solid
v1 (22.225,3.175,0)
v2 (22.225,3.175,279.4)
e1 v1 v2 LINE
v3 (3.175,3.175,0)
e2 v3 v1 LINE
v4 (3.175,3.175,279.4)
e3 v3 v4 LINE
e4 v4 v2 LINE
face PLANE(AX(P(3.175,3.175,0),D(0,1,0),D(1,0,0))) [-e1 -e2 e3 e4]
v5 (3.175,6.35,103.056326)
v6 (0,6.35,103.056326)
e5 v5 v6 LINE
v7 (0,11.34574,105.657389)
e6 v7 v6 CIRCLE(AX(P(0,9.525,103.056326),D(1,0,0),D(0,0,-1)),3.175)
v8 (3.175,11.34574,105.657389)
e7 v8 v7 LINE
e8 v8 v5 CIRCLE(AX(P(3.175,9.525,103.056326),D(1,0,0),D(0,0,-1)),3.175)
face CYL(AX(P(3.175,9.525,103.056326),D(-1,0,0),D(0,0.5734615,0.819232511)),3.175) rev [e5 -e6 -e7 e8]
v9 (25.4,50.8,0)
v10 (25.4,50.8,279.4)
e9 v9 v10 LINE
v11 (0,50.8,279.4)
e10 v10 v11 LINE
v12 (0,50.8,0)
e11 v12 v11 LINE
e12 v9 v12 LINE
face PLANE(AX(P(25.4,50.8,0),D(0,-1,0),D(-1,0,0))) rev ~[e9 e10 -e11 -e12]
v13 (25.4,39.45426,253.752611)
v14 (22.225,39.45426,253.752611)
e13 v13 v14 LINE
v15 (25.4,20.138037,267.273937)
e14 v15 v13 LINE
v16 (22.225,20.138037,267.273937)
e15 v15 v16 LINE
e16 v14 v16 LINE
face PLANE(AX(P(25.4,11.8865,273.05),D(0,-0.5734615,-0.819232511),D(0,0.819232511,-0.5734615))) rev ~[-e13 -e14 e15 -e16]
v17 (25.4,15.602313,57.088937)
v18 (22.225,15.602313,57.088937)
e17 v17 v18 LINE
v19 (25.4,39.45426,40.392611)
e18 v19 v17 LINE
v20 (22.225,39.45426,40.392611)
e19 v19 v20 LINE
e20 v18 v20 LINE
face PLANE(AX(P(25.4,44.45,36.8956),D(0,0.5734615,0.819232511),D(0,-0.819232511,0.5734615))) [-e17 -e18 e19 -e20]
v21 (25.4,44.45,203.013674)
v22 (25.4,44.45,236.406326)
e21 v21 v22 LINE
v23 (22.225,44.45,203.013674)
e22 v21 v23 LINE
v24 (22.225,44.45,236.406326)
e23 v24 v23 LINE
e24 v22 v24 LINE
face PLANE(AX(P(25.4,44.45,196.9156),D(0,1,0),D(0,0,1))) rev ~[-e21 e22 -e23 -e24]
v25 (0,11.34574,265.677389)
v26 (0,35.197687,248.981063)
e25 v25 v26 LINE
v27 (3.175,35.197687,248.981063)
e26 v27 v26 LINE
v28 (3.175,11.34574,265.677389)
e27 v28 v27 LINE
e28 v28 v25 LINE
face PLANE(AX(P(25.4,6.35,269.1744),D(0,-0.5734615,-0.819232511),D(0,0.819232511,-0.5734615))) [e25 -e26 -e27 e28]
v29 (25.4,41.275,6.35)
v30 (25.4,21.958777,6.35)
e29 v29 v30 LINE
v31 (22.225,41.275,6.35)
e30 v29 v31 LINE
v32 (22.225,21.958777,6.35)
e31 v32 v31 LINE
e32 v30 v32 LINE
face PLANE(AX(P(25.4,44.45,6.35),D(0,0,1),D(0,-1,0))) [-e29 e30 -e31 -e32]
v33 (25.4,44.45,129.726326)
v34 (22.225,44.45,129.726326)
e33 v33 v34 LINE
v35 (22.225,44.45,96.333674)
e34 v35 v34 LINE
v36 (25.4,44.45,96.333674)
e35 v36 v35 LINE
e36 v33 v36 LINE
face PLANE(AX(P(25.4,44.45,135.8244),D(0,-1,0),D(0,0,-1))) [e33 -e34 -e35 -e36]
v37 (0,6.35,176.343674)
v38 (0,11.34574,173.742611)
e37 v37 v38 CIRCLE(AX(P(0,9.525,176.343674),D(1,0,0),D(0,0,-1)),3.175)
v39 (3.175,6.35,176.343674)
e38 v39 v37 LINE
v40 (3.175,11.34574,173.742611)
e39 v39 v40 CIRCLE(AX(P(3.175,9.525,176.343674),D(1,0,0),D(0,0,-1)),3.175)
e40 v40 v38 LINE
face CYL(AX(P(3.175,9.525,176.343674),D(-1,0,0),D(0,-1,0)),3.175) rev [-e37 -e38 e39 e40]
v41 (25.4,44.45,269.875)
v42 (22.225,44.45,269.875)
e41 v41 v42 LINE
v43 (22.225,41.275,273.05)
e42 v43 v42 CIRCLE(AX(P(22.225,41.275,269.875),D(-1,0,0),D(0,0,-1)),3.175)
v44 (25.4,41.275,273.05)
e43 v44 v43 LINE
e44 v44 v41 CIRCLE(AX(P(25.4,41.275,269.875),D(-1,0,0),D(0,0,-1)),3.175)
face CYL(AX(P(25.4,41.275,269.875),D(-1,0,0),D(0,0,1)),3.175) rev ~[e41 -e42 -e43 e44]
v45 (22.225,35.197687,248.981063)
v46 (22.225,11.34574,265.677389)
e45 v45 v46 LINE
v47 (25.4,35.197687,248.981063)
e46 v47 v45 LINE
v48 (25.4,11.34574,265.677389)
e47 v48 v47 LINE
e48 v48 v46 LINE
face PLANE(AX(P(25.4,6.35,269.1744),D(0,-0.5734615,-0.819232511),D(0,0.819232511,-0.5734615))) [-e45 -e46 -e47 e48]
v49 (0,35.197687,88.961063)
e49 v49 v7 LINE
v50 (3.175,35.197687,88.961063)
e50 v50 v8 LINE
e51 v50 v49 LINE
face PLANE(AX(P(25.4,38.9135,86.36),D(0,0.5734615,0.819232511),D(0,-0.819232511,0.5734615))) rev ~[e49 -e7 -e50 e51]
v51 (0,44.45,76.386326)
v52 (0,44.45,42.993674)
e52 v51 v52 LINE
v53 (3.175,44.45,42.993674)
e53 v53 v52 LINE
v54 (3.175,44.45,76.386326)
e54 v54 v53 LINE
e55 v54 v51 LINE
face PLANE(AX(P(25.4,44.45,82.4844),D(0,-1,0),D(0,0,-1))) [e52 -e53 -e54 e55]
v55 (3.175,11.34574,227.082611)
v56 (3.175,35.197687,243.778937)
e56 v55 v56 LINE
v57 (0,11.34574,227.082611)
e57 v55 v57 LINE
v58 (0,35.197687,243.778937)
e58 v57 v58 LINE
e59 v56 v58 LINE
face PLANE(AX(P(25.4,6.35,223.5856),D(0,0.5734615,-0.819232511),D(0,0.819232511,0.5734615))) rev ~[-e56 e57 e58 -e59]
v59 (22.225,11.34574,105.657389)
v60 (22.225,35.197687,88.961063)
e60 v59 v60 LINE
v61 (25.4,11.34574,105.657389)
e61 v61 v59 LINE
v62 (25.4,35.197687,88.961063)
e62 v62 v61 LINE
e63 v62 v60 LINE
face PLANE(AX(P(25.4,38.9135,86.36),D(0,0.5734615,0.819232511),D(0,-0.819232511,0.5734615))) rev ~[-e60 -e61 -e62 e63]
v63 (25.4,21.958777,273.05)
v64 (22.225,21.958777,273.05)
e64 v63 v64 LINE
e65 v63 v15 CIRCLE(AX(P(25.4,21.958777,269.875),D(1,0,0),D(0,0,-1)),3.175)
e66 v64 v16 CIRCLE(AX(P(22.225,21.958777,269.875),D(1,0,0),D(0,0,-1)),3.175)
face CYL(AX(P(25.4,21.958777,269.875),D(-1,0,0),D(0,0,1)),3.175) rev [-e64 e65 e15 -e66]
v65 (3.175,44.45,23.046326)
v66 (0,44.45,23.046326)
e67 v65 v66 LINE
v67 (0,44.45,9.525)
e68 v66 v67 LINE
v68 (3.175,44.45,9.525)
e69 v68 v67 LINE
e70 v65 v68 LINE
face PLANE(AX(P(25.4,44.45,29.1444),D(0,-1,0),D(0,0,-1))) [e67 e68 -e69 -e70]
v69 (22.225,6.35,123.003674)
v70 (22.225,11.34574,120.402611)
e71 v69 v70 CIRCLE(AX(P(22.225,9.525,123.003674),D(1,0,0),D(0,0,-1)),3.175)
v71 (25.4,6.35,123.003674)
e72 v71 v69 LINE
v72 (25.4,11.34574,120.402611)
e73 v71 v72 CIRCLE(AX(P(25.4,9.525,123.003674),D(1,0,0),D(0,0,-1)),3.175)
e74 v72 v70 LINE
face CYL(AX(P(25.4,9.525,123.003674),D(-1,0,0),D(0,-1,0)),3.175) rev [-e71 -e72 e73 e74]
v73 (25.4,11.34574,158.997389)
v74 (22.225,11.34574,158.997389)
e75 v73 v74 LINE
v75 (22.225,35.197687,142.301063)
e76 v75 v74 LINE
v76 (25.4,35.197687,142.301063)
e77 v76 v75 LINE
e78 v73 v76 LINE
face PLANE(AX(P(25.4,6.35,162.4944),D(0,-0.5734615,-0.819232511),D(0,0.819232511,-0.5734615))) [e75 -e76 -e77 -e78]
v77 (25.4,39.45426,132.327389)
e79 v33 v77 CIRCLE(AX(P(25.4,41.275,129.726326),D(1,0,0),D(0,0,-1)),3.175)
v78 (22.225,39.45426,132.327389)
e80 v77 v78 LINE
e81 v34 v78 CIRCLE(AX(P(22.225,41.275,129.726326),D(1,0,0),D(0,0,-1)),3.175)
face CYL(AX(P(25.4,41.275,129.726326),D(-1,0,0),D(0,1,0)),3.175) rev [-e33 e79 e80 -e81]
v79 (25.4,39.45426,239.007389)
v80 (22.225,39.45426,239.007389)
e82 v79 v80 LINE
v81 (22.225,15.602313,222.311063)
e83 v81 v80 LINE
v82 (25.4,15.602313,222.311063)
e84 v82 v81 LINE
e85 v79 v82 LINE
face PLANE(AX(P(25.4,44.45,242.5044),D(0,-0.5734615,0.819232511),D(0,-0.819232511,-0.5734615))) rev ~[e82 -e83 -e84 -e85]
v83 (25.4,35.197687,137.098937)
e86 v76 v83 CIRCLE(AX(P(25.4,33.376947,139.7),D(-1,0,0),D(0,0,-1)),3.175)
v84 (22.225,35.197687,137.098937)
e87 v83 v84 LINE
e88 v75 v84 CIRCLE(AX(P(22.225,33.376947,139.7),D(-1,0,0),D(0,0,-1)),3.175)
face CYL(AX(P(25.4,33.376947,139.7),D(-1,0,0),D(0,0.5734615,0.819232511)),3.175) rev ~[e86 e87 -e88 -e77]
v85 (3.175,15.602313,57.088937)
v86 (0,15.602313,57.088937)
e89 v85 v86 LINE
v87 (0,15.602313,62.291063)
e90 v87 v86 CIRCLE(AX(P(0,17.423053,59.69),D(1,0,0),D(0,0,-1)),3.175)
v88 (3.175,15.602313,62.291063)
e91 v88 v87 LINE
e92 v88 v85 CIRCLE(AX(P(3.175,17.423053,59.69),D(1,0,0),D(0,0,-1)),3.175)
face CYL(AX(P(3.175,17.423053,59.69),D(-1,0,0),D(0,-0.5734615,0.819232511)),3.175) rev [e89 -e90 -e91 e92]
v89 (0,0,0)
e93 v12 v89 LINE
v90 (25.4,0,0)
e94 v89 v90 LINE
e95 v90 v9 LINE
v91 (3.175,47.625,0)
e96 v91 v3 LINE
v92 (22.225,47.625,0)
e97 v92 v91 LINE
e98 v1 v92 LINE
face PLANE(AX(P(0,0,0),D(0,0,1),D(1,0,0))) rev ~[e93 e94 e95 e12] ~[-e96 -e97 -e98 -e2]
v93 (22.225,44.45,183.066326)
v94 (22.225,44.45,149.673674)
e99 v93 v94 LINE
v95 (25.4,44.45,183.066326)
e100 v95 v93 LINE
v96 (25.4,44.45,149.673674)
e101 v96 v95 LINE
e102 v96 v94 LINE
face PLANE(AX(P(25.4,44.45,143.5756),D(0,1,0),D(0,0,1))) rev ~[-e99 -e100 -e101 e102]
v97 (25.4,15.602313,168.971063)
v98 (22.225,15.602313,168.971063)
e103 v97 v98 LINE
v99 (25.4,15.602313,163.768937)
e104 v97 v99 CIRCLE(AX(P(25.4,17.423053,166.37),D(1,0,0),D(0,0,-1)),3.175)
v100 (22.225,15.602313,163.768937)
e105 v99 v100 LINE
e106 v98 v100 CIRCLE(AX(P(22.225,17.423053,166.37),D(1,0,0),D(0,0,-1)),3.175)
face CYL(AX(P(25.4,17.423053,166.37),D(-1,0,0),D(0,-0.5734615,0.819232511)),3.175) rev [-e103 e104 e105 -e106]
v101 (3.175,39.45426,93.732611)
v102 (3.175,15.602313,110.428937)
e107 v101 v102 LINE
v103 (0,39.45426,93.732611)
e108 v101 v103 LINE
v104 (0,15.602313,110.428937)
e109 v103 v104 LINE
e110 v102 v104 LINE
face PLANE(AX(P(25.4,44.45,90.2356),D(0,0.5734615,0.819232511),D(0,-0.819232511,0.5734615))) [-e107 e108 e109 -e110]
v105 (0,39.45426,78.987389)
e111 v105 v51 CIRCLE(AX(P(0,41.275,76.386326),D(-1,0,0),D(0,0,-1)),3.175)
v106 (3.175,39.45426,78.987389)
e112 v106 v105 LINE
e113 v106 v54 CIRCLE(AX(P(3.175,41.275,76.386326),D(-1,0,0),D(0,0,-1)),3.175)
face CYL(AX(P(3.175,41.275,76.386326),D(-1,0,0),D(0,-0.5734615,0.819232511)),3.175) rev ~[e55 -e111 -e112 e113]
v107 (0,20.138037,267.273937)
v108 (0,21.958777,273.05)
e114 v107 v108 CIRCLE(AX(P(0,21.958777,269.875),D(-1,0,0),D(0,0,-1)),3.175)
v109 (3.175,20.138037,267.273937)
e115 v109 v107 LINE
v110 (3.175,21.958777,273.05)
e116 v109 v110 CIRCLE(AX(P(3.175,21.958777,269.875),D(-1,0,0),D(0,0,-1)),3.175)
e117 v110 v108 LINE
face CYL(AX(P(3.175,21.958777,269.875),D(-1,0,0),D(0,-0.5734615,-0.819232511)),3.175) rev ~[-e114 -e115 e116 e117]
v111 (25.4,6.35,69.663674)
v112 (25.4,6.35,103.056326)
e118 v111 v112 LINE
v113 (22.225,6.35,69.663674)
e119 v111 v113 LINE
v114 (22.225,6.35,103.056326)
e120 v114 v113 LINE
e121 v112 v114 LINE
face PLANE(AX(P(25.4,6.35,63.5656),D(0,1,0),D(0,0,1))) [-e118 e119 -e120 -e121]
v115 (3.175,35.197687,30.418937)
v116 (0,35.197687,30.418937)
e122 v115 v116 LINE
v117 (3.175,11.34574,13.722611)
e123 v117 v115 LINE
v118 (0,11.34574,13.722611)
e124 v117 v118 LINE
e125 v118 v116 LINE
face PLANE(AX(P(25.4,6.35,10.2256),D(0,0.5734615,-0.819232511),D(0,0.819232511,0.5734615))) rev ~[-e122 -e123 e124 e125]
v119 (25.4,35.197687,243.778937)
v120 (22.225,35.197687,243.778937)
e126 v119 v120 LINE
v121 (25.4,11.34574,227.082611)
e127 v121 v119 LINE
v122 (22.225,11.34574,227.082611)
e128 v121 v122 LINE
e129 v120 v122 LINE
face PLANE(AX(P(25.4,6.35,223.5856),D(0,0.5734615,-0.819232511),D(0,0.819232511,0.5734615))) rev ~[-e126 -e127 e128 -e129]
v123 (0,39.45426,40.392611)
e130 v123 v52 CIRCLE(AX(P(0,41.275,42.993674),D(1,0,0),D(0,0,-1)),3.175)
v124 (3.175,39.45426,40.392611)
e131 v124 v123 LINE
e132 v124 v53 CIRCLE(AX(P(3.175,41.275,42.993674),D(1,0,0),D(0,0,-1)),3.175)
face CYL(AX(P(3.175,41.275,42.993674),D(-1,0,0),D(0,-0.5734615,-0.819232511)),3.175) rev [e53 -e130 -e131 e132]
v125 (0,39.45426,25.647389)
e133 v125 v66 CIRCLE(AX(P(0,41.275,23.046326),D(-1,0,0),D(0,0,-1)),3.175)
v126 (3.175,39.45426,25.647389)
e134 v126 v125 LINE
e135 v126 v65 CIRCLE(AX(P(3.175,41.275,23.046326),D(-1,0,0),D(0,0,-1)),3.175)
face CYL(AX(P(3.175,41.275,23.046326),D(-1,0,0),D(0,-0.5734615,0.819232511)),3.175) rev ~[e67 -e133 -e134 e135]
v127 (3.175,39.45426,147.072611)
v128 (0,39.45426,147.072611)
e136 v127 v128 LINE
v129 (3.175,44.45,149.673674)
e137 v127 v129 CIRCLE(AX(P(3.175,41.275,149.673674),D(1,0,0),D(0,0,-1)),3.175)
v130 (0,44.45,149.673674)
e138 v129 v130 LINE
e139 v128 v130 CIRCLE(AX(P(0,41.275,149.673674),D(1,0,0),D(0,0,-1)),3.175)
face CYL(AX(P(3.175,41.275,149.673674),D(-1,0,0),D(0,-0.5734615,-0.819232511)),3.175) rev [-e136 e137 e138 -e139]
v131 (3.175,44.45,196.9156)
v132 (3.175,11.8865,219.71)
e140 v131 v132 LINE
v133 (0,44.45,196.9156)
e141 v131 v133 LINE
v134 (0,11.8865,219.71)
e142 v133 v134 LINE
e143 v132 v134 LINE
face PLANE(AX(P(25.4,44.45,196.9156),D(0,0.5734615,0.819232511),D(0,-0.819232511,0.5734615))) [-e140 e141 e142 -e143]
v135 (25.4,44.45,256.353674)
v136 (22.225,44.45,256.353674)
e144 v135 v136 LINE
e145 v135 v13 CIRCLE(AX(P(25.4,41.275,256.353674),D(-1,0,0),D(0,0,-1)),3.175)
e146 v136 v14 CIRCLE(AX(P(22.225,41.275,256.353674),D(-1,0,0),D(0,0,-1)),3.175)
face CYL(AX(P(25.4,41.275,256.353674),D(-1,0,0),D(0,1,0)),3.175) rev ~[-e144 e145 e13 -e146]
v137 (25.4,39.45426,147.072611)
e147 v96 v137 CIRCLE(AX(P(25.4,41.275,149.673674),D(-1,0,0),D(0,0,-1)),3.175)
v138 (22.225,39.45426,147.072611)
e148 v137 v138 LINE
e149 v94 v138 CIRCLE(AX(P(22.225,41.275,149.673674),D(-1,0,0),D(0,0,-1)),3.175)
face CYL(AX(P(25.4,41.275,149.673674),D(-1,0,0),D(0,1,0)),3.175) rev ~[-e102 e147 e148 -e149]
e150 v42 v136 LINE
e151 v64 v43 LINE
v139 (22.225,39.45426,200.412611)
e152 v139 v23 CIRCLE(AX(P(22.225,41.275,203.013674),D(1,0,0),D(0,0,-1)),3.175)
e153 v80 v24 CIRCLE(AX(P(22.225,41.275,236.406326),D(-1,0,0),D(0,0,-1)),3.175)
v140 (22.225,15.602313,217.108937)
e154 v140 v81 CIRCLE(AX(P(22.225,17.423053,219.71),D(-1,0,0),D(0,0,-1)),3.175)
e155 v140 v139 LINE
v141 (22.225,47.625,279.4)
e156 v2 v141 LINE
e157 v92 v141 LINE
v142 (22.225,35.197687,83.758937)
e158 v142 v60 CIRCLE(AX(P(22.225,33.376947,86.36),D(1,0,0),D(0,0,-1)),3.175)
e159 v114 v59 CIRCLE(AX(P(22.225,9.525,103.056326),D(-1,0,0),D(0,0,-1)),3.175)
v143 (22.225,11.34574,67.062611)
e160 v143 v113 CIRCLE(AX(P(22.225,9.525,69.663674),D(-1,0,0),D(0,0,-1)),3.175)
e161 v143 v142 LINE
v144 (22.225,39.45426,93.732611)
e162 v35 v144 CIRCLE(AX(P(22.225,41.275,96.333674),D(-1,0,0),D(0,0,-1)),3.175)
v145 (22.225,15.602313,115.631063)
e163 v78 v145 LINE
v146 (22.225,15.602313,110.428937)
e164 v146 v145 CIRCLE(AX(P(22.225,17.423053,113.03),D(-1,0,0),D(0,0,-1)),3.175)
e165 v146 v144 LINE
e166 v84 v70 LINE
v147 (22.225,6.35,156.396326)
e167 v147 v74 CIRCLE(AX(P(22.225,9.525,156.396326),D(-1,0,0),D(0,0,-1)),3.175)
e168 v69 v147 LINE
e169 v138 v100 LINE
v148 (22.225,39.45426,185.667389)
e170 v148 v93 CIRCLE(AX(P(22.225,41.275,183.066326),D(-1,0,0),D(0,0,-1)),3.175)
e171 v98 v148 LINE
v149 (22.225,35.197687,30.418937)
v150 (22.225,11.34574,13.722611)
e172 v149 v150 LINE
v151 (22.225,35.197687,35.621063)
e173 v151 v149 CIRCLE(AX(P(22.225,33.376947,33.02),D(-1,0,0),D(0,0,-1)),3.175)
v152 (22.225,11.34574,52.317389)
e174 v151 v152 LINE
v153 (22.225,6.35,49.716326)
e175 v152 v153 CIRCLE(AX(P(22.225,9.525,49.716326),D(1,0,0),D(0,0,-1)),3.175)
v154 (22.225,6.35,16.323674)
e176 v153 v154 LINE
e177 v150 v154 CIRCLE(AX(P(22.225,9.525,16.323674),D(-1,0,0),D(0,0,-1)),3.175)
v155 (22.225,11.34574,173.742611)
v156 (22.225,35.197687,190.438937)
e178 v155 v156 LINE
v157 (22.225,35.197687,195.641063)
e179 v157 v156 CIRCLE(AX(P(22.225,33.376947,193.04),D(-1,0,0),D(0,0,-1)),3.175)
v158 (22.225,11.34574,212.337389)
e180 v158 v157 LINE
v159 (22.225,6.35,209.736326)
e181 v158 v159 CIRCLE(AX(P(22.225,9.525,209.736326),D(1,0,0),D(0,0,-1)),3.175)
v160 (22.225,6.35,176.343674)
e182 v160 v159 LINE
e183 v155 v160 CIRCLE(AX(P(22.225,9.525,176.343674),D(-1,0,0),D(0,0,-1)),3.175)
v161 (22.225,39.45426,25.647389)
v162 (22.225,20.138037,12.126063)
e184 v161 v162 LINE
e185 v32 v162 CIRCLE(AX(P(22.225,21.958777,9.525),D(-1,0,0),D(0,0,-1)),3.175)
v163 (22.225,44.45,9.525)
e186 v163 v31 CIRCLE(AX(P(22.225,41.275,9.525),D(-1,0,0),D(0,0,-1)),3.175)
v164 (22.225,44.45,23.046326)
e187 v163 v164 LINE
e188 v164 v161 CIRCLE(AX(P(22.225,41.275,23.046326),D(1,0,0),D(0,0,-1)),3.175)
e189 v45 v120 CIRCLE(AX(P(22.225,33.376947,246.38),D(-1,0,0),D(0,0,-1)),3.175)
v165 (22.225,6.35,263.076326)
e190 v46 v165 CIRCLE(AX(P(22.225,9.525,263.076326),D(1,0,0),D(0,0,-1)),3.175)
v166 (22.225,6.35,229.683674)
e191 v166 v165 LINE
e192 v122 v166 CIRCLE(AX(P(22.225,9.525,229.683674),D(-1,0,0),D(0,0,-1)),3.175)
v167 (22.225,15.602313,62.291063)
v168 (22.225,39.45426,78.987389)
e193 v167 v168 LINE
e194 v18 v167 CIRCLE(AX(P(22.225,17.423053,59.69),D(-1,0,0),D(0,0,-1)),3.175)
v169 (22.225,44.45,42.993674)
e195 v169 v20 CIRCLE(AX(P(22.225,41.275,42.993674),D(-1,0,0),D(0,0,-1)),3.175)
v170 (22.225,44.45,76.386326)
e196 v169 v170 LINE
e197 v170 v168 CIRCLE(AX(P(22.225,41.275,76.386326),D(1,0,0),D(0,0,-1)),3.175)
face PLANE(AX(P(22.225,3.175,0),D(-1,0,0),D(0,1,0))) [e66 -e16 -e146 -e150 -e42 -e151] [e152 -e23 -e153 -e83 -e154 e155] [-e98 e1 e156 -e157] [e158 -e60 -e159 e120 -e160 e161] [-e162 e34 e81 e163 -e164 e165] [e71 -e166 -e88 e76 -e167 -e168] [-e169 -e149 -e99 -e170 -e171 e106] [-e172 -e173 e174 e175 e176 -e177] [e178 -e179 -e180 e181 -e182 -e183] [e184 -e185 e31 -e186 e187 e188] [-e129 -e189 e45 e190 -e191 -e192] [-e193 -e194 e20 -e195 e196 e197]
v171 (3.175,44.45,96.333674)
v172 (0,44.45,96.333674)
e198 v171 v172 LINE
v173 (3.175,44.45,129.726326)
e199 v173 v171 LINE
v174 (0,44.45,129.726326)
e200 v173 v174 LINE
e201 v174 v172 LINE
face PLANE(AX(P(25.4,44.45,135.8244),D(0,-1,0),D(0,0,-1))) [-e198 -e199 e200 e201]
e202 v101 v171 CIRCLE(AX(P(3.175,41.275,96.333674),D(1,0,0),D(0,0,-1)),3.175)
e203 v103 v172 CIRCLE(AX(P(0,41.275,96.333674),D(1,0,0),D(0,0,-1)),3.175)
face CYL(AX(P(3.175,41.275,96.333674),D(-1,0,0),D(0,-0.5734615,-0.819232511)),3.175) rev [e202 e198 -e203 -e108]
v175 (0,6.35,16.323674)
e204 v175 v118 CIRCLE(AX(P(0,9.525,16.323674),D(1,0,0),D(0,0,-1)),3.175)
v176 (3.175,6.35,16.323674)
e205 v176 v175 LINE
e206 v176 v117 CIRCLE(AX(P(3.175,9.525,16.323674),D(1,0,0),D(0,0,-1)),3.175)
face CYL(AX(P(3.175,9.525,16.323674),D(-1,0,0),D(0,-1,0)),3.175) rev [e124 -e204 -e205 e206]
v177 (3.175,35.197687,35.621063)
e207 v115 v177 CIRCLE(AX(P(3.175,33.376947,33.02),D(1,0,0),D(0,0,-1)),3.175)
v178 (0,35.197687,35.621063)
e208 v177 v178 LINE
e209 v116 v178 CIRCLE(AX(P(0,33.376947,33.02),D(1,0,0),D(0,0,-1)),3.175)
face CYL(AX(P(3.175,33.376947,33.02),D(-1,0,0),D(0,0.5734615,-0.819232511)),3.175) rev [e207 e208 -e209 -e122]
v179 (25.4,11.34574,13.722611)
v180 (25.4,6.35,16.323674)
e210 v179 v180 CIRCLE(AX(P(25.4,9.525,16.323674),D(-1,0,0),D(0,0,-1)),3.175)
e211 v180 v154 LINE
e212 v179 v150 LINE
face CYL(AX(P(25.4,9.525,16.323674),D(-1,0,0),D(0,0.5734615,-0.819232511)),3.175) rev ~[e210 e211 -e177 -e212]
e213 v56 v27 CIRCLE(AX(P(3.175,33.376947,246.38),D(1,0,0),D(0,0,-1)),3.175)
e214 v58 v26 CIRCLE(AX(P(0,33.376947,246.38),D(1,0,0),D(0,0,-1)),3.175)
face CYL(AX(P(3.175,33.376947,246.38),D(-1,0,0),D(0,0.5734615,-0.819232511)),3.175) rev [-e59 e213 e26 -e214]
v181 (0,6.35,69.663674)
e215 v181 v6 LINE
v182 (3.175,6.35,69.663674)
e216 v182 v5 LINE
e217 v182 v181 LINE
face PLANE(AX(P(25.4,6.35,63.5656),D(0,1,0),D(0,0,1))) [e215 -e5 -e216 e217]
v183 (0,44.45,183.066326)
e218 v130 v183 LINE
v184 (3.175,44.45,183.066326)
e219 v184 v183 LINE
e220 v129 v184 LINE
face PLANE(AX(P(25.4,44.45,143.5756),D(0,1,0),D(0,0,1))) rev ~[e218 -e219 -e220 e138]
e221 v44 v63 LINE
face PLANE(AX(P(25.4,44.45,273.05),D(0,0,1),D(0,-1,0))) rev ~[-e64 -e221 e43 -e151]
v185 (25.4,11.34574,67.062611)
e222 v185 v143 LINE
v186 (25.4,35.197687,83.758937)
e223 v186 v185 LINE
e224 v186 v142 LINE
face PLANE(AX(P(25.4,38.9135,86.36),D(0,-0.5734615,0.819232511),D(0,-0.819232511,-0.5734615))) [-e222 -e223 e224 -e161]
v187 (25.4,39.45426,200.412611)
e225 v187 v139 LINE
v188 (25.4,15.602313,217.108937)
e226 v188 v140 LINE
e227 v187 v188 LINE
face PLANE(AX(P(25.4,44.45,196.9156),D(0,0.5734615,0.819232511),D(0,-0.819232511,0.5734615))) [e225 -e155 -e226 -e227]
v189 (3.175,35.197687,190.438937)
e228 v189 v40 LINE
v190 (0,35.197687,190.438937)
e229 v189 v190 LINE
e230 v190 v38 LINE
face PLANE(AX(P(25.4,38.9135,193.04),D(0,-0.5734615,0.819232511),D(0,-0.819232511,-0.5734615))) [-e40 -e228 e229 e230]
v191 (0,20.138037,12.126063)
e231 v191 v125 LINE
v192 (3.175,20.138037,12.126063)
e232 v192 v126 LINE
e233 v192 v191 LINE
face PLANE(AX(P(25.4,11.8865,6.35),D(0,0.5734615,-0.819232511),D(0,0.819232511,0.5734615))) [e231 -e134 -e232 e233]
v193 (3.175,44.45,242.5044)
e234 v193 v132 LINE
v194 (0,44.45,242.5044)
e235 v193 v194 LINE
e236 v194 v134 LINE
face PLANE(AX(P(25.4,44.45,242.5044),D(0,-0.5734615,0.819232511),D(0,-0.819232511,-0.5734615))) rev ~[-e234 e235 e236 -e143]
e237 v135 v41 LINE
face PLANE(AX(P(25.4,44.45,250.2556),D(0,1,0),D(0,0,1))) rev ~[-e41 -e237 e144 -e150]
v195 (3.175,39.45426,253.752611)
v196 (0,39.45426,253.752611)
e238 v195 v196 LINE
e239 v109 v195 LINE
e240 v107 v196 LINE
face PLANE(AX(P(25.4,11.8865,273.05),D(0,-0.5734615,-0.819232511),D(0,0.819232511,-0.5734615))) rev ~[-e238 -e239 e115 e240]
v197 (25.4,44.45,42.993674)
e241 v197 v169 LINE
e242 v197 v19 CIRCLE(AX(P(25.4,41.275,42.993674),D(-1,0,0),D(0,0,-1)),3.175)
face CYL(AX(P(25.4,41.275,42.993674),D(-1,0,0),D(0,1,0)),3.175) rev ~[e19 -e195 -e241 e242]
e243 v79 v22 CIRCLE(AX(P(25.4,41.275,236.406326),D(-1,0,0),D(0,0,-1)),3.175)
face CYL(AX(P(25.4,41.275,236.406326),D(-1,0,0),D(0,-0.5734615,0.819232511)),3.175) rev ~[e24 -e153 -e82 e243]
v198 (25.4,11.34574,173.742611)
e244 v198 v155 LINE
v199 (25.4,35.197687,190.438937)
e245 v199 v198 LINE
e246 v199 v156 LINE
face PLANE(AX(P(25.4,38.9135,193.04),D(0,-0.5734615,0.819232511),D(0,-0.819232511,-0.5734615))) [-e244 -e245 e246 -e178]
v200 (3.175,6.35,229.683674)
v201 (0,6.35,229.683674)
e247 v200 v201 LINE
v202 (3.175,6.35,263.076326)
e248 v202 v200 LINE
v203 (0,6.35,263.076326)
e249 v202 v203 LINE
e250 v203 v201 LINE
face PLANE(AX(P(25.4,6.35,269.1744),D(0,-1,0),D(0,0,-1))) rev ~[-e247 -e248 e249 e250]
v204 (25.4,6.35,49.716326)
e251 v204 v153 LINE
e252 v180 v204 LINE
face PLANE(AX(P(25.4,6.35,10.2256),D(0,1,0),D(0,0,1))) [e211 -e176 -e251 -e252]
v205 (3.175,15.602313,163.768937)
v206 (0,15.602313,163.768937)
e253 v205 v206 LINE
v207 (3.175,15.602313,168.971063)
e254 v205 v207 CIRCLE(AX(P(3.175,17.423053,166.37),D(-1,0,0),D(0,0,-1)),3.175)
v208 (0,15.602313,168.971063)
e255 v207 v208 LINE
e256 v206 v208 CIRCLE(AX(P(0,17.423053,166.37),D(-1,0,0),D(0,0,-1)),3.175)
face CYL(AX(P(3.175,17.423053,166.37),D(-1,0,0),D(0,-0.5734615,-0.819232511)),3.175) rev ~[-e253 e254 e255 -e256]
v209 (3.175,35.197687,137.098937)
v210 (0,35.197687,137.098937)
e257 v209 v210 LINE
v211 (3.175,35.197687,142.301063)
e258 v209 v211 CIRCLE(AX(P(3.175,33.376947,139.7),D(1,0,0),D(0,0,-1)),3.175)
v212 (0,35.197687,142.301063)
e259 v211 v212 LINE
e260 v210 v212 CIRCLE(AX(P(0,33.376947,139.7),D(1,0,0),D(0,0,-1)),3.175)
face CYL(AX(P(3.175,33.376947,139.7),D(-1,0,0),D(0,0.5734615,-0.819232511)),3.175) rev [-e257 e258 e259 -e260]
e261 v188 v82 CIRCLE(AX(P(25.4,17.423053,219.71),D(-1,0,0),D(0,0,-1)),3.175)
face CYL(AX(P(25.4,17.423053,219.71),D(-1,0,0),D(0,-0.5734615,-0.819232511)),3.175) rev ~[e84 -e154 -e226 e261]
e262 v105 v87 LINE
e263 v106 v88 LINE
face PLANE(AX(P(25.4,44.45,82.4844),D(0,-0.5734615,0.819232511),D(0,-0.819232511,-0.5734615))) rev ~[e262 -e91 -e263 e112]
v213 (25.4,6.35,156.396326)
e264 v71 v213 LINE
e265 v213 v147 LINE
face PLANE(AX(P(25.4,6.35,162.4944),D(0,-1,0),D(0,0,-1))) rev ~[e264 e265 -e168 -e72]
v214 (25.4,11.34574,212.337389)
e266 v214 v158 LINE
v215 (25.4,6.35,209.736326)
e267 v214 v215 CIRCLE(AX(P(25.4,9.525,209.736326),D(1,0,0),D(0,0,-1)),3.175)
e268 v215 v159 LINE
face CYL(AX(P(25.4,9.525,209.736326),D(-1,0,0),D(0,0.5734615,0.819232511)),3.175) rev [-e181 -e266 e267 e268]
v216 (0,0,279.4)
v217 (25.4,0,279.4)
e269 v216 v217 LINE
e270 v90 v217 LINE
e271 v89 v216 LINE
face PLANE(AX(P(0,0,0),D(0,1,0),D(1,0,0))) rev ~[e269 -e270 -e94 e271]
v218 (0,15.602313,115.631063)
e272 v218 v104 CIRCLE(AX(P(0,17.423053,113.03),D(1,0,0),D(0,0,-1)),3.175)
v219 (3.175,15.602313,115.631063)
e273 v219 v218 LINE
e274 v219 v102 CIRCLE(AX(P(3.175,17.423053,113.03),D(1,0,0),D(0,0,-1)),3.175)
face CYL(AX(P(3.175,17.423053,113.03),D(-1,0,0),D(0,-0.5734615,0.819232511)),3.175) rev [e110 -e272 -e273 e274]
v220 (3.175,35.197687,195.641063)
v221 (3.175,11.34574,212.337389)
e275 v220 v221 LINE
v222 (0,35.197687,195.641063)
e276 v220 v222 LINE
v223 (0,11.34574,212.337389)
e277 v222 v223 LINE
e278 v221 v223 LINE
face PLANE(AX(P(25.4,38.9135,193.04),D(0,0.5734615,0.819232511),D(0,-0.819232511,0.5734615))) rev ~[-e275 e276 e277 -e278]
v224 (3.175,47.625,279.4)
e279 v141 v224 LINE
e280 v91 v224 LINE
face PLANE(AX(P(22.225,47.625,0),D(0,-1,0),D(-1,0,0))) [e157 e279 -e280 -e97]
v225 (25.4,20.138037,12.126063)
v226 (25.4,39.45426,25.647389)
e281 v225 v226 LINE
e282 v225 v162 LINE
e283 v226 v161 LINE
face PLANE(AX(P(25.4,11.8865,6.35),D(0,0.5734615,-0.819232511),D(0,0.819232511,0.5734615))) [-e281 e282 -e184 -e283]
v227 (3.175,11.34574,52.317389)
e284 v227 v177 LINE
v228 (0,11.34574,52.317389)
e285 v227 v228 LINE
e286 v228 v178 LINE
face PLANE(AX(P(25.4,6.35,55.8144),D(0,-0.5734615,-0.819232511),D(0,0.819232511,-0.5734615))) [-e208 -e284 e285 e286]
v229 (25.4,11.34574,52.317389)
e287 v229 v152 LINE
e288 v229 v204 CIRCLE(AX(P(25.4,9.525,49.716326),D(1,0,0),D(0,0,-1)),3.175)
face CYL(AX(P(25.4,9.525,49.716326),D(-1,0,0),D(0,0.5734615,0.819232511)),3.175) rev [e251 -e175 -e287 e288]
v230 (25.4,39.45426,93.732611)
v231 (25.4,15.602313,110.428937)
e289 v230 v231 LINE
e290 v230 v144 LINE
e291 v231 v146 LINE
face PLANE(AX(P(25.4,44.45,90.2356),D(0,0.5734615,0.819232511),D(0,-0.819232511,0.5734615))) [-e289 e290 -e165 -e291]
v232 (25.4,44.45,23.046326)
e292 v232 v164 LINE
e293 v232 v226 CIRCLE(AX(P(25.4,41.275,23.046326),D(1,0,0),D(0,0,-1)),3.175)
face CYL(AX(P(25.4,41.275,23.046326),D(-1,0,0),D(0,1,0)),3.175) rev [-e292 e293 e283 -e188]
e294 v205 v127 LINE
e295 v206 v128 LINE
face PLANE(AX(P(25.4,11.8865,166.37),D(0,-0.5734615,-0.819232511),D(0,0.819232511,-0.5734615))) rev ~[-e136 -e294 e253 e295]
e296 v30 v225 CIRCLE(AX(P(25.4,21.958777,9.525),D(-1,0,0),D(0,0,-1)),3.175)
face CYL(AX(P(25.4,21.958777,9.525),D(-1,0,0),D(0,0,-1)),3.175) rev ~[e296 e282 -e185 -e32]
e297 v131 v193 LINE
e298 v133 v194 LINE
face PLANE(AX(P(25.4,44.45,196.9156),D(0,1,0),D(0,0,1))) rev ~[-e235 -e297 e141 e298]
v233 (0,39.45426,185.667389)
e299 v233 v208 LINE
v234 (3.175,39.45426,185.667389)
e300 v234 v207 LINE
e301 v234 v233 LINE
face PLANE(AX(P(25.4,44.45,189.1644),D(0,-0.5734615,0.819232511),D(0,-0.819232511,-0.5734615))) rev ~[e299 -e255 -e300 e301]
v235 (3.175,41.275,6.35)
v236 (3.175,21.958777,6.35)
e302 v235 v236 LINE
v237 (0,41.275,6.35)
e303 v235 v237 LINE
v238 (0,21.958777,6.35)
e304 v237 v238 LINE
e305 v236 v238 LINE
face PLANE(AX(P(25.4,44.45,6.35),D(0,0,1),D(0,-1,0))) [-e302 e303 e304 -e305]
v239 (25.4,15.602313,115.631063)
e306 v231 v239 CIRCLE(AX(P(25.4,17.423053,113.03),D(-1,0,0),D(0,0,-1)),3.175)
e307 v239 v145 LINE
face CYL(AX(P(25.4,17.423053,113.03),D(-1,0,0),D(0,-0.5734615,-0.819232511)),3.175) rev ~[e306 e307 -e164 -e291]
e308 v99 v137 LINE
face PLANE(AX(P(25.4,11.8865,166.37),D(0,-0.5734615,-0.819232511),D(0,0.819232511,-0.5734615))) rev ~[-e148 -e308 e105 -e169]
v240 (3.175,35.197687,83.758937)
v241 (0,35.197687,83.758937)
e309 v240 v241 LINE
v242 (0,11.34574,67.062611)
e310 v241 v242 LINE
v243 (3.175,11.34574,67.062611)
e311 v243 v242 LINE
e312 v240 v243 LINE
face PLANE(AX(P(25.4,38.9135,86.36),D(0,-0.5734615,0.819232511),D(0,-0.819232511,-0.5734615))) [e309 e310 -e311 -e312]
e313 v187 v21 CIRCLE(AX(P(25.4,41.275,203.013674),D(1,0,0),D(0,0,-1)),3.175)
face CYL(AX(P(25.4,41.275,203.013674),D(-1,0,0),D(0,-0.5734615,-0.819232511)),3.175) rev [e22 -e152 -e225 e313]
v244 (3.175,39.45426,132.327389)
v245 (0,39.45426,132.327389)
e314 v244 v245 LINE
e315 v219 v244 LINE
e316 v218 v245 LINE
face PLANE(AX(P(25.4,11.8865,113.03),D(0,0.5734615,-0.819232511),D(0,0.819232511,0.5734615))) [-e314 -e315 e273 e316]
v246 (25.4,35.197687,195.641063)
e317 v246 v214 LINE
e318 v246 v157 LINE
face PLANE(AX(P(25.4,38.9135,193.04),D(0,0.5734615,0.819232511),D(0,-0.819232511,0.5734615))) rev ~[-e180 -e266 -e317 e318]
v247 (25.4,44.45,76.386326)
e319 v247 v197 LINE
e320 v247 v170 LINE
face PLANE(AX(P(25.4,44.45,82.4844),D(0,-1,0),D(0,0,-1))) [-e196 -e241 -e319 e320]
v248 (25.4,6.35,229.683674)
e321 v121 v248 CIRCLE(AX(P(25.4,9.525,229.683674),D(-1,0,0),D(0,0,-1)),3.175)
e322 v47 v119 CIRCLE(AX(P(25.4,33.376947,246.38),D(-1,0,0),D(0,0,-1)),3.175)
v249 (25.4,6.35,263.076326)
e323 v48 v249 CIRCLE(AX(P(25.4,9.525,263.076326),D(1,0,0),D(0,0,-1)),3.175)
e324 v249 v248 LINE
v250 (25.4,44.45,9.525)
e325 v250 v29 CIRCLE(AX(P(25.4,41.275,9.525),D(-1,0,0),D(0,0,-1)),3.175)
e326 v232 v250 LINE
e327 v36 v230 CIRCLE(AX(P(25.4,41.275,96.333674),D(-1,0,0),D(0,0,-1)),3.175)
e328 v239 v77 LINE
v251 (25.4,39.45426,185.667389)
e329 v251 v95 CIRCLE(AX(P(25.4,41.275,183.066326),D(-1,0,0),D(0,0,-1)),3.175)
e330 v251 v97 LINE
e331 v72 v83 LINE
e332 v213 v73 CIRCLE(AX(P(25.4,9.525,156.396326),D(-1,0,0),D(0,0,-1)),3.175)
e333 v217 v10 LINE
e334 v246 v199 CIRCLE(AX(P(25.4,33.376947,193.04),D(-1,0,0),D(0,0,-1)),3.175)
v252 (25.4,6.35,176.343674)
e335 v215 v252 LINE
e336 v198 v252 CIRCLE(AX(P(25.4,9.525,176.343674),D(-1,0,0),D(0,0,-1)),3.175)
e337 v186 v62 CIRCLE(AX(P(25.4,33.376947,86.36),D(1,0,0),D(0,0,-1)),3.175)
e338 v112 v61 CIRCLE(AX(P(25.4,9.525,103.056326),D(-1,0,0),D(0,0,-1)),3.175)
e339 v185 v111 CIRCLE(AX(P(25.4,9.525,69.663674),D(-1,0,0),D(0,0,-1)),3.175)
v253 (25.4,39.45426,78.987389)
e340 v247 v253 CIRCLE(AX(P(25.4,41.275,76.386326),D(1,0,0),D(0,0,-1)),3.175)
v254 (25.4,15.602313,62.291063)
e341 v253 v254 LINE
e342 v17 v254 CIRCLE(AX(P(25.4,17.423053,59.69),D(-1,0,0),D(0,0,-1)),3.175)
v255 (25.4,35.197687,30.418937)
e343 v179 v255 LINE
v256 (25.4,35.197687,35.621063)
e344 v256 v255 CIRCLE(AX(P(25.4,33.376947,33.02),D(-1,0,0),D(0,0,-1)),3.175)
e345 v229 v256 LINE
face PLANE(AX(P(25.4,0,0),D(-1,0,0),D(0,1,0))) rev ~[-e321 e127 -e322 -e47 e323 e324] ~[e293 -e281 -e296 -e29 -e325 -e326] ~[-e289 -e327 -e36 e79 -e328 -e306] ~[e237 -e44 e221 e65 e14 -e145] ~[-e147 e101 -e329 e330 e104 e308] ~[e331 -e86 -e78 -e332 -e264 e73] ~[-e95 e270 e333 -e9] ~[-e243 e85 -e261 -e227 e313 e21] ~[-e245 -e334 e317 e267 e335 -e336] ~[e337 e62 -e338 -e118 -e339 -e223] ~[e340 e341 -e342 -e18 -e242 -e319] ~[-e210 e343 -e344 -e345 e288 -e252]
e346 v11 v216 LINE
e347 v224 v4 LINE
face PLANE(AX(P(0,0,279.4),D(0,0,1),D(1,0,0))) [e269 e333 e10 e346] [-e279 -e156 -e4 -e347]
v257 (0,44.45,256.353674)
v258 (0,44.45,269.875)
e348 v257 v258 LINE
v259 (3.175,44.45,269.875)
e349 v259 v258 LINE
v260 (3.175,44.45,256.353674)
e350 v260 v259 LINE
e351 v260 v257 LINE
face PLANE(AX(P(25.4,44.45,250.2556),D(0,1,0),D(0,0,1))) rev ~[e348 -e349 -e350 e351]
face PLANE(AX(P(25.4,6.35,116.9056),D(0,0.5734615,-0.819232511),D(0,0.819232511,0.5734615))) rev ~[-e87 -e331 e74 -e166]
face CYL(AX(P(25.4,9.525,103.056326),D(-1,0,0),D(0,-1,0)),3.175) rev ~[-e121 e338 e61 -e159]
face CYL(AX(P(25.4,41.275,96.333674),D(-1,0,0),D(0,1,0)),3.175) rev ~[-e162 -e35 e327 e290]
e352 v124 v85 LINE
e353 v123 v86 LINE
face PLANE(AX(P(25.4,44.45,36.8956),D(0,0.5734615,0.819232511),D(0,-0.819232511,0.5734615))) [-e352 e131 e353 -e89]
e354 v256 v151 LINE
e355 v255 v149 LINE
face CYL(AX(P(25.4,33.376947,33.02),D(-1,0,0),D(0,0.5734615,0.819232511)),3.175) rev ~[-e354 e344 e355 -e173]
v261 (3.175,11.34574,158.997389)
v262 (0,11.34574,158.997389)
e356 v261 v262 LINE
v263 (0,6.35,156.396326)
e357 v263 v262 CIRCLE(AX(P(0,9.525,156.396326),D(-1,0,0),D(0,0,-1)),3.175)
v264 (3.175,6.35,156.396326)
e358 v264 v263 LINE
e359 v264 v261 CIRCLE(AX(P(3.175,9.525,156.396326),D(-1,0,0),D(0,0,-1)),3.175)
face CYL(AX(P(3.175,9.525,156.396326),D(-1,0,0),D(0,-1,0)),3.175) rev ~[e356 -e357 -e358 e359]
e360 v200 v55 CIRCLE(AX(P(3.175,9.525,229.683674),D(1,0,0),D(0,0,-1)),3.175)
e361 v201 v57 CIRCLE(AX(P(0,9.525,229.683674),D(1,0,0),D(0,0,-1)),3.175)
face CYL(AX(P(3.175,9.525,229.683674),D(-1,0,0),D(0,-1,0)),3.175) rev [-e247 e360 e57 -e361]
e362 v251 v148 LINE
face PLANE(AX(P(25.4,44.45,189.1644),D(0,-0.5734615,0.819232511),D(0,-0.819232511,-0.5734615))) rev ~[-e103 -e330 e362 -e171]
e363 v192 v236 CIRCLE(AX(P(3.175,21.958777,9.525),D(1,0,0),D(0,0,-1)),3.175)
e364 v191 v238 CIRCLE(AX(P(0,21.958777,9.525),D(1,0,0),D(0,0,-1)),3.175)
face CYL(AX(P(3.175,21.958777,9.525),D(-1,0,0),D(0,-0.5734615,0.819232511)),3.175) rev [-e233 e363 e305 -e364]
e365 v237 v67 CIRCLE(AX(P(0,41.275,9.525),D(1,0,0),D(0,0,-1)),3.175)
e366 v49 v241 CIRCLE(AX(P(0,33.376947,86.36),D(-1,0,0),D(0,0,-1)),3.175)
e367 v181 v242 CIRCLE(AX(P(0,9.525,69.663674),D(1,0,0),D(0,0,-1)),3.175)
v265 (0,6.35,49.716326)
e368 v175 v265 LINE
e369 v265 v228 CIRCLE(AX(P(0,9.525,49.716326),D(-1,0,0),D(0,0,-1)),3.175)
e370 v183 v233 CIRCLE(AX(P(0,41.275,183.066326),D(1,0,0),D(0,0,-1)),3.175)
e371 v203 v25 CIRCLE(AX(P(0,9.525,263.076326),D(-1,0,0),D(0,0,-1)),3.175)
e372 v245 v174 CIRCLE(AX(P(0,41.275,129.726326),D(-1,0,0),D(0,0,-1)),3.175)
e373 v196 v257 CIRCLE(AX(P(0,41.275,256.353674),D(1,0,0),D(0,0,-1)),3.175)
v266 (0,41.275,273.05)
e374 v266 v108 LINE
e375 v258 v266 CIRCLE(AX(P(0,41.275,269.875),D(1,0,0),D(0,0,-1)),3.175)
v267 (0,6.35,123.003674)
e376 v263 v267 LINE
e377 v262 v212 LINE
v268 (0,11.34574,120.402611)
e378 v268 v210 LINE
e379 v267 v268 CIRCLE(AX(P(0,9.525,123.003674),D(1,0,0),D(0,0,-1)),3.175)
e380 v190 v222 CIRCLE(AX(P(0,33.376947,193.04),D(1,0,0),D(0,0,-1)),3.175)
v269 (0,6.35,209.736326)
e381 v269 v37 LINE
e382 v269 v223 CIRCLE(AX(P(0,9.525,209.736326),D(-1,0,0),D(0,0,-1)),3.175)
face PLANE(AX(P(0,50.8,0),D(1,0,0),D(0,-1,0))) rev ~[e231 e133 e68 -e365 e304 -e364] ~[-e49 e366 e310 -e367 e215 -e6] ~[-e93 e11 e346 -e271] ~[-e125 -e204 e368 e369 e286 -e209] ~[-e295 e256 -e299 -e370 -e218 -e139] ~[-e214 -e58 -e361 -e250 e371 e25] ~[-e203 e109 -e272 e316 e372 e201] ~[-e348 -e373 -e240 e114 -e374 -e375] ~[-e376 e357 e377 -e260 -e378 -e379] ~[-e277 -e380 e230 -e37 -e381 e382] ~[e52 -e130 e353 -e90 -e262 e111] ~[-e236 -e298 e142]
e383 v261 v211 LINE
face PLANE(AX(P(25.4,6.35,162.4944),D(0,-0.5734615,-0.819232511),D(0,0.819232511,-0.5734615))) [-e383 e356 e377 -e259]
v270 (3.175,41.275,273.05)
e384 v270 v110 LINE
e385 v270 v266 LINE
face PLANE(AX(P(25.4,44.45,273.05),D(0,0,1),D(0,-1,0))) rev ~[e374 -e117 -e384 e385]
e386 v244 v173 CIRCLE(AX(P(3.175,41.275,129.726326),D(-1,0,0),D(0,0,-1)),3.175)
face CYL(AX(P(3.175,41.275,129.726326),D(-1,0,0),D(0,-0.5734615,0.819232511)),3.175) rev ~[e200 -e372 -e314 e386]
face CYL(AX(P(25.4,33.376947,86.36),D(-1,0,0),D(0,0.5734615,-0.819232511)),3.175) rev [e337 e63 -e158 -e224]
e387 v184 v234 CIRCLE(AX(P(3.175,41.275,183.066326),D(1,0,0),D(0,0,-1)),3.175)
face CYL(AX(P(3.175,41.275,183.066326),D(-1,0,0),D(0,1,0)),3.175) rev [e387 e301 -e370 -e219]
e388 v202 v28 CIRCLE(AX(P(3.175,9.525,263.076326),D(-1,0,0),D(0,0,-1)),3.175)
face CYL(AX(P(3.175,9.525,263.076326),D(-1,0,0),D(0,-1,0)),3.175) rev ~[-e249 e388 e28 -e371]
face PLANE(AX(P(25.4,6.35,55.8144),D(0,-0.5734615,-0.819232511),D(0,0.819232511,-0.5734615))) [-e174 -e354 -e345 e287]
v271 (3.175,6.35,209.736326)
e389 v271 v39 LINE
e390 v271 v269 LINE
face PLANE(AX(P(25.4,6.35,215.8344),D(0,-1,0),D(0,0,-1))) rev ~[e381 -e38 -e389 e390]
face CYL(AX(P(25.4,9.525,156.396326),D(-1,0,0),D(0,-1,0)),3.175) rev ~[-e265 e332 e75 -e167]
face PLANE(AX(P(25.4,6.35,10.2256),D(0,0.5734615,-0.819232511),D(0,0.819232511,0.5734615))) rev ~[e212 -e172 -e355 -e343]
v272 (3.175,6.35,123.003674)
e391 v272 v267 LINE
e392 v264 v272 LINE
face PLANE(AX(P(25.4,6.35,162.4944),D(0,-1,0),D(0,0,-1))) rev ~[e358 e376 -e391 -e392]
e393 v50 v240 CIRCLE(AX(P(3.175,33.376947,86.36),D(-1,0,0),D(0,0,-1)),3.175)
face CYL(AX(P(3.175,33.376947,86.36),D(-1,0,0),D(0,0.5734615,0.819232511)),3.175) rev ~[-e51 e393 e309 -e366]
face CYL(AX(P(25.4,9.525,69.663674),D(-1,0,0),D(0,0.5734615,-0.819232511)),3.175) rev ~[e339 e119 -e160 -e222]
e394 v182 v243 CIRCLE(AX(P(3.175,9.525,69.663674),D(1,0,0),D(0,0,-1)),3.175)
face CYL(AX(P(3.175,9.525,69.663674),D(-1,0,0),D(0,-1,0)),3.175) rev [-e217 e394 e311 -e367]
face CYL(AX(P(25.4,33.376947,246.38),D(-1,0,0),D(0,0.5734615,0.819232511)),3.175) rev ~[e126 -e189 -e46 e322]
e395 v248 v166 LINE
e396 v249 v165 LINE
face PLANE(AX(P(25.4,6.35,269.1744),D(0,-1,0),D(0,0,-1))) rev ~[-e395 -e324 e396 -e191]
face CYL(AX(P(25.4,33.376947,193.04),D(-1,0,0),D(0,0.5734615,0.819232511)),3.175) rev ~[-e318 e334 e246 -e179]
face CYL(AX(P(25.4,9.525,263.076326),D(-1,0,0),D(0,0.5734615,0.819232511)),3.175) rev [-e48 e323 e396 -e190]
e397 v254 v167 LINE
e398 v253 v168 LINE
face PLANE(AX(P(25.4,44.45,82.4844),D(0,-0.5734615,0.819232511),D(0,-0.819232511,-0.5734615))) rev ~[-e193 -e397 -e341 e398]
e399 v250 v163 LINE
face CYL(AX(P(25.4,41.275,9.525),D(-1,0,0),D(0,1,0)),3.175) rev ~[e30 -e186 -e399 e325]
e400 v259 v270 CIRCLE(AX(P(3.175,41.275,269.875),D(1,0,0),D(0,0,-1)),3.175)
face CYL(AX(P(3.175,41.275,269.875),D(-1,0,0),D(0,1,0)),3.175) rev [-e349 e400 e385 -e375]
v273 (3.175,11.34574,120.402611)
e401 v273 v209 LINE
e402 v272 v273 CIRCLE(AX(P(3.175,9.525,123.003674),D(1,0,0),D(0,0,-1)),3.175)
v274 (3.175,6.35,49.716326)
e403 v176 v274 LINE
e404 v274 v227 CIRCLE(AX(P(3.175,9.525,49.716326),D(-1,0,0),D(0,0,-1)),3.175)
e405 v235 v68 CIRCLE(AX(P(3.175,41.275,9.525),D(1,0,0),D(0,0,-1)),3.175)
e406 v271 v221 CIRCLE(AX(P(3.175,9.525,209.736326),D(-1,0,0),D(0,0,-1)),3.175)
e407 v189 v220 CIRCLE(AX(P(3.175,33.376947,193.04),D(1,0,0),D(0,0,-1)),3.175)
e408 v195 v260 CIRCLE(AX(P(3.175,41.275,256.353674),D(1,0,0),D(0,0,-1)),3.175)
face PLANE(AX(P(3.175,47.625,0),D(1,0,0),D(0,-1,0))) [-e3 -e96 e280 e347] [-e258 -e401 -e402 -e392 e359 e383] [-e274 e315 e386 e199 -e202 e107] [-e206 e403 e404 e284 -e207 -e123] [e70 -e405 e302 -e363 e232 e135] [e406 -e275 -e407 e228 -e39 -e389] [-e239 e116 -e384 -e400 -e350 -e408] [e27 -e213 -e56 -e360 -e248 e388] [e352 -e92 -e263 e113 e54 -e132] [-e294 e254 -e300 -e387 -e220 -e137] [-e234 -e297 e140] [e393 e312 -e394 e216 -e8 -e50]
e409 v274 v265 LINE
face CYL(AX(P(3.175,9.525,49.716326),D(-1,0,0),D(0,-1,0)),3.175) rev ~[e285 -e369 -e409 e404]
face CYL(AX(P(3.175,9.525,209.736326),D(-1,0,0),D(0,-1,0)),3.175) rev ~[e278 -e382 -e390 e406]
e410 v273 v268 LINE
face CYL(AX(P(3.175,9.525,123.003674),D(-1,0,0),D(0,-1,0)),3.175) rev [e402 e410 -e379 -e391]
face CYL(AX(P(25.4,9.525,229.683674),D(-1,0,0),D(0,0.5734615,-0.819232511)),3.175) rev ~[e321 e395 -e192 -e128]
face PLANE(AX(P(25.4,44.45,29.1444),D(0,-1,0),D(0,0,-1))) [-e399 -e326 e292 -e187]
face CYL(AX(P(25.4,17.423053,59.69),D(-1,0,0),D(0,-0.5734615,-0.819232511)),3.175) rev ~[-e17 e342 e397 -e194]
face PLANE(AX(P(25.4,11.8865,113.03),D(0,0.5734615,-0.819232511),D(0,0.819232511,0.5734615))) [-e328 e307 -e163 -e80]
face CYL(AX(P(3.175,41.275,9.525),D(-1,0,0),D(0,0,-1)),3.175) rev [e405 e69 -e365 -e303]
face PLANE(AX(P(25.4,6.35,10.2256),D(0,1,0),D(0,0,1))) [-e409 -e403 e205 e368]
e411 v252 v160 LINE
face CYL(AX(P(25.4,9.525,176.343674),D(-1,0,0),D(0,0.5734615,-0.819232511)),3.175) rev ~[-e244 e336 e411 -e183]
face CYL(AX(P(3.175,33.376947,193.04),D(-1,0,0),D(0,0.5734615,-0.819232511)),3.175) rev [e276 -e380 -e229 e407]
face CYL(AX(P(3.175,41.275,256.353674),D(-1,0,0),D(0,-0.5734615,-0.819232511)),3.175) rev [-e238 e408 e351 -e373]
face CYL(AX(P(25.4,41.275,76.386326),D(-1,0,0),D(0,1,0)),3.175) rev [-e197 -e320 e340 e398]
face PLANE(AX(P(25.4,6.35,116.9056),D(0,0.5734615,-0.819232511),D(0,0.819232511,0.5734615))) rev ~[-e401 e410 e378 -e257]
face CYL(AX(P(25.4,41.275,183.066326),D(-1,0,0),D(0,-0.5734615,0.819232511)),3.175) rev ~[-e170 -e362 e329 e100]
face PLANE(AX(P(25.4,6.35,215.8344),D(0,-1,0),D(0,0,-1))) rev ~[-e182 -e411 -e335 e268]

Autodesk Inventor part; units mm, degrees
ref_plane "YZ Plane" through (0, 0, 0) normal (1, 0, 0) x (0, 1, 0)
ref_plane "XZ Plane" through (0, 0, 0) normal (0, 1, 0) x (-1, 0, 0)
ref_plane "XY Plane" through (0, 0, 0) normal (0, 0, 1) x (1, 0, 0)
sketch "Sketch1" plane through (0, 0, 0) normal (0, 0, 1) x (1, 0, 0)
  line L0 (0, 0) -> (25.4, 0)
  line L1 (25.4, 0) -> (25.4, 50.8)
  line L2 (25.4, 50.8) -> (0, 50.8)
  line L3 (0, 50.8) -> (0, 0)
  line L4 (3.175, 3.175) -> (22.225, 3.175)
  line L5 (22.225, 3.175) -> (22.225, 47.625)
  line L6 (22.225, 47.625) -> (3.175, 47.625)
  line L7 (3.175, 47.625) -> (3.175, 3.175)
  dimension "d0" = 50.8
  dimension "d1" = 25.4
  dimension "d2" = 3.175
  dimension "d3" = 3.175
  dimension "d4" = 3.175
  dimension "d5" = 3.175
extrude "Extrusion1" add sketch "Sketch1" along normal blind 279.4
sketch "Sketch2" plane through (25.4, 0, 0) normal (1, 0, 0) x (0, 0, -1)
  line L0 (-279.4, 50.8) -> (-279.4, 0) projected
  line L1 (0, 0) -> (-279.4, 0) projected
  line L2 (0, 50.8) -> (-279.4, 50.8) projected
  line L3 (-139.7, 0) -> (-139.7, 50.8)
  line L4 (-279.4, 50.8) -> (-139.7, 50.8)
  line L5 (-279.4, 50.8) -> (-279.4, 0)
  line L6 (-279.4, 0) -> (-139.7, 0)
  line L7 (-279.4, 0) -> (-279.4, 50.8)
  line L8 (-166.37, 11.8865) -> (-143.5756, 44.45)
  line L9 (-193.04, 38.9135) -> (-170.2456, 6.35)
  line L10 (-193.04, 44.45) -> (-166.37, 6.35) construction
  line L11 (-139.7, 6.35) -> (-139.7, 44.45)
  line L12 (-166.37, 6.35) -> (-139.7, 44.45) construction
  line L13 (-193.04, 38.9135) -> (-215.8344, 6.35)
  line L14 (-196.9156, 44.45) -> (-219.71, 11.8865)
  line L15 (-219.71, 6.35) -> (-193.04, 44.45) construction
  line L16 (-139.7, 44.45) -> (-273.05, 44.45)
  line L17 (-273.05, 6.35) -> (-139.7, 6.35)
  line L18 (-139.7, 0) -> (-279.4, 0)
  line L19 (-139.7, 50.8) -> (-279.4, 50.8)
  line L20 (-162.4944, 6.35) -> (-139.7, 38.9135)
  line L21 (-189.1644, 44.45) -> (-166.37, 11.8865)
  line L22 (-139.7, 50.8) -> (-139.7, 0)
  line L23 (-269.1744, 6.35) -> (-246.38, 38.9135)
  line L24 (-242.5044, 44.45) -> (-219.71, 11.8865)
  line L25 (-246.38, 44.45) -> (-219.71, 6.35) construction
  line L26 (-273.05, 44.45) -> (-273.05, 6.35)
  line L27 (-273.05, 11.8865) -> (-250.2556, 44.45)
  line L28 (-273.05, 6.35) -> (-246.38, 44.45) construction
  line L29 (-223.5856, 6.35) -> (-246.38, 38.9135)
  line L30 (0, 50.8) -> (0, 0)
  line L31 (-82.4844, 44.45) -> (-59.69, 11.8865)
  line L32 (0, 0) -> (-139.7, 0)
  line L33 (-139.7, 0) -> (0, 0)
  line L34 (-139.7, 50.8) -> (0, 50.8)
  line L35 (0, 50.8) -> (-139.7, 50.8)
  line L36 (-6.35, 6.35) -> (-139.7, 6.35)
  line L37 (-139.7, 44.45) -> (-6.35, 44.45)
  line L38 (-59.69, 6.35) -> (-86.36, 44.45) construction
  line L39 (-86.36, 38.9135) -> (-63.5656, 6.35)
  line L40 (0, 50.8) -> (0, 0)
  line L41 (0, 0) -> (0, 50.8)
  line L42 (-86.36, 44.45) -> (-113.03, 6.35) construction
  line L43 (-90.2356, 44.45) -> (-113.03, 11.8865)
  line L44 (-113.03, 11.8865) -> (-135.8244, 44.45)
  line L45 (-113.03, 6.35) -> (-139.7, 44.45) construction
  line L46 (-116.9056, 6.35) -> (-139.7, 38.9135)
  line L47 (-86.36, 38.9135) -> (-109.1544, 6.35)
  line L48 (-10.2256, 6.35) -> (-33.02, 38.9135)
  line L49 (-6.35, 44.45) -> (-6.35, 6.35)
  line L50 (-6.35, 11.8865) -> (-29.1444, 44.45)
  line L51 (-6.35, 6.35) -> (-33.02, 44.45) construction
  line L52 (-36.8956, 44.45) -> (-59.69, 11.8865)
  line L53 (-55.8144, 6.35) -> (-33.02, 38.9135)
  line L54 (-33.02, 44.45) -> (-59.69, 6.35) construction
  dimension "d8" = 34.992
  dimension "d9" = 69.984
  dimension "d10" = 69.984
  dimension "d11" = 69.984
  dimension "d12" = 69.984
  dimension "d13" = 3.175
  dimension "d14" = 3.175
  dimension "d15" = 3.175
  dimension "d16" = 3.175
  dimension "d17" = 3.175
  dimension "d18" = 3.175
  dimension "d19" = 3.175
  dimension "d20" = 3.175
  dimension "d21" = 3.175
  dimension "d22" = 3.175
  dimension "d23" = 6.35
  dimension "d24" = 6.35
  dimension "d25" = 0
  dimension "d26" = 6.35
  dimension "d27" = 139.7
extrude "Extrusion2" cut sketch "Sketch2" against normal blind 25.4 contours L17 L20 L3 | L3 L46 L36 | L8 L21 L16 | L37 L43 L44 | L17 L13 L9 | L47 L39 L36 | L14 L24 L16 | L37 L52 L31 | L17 L23 L29 | L53 L48 L36 | L27 L26 L16 | L37 L49 L50
fillet "Fillet1" radius 3.175 63 edges at (23.8125, 11.8865, 273.05) (23.8125, 44.45, 273.05) (23.8125, 44.45, 250.2556) (23.8125, 38.9135, 246.38) (23.8125, 6.35, 269.1744) (23.8125, 6.35, 223.5856) (23.8125, 11.8865, 219.71) (23.8125, 44.45, 242.5044) (23.8125, 44.45, 196.9156) (23.8125, 38.9135, 193.04) (23.8125, 6.35, 215.8344) (23.8125, 6.35, 170.2456) (23.8125, 11.8865, 166.37) (23.8125, 44.45, 189.1644) (23.8125, 44.45, 143.5756) (23.8125, 38.9135, 139.7) (1.5875, 6.35, 116.9056) (23.8125, 6.35, 116.9056) (23.8125, 6.35, 162.4944) (23.8125, 44.45, 135.8244) (23.8125, 11.8865, 113.03) (23.8125, 44.45, 90.2356) (23.8125, 38.9135, 86.36) (23.8125, 6.35, 109.1544) (23.8125, 6.35, 63.5656) (23.8125, 11.8865, 59.69) (23.8125, 44.45, 82.4844) (23.8125, 44.45, 36.8956) (23.8125, 38.9135, 33.02) (23.8125, 6.35, 55.8144) (23.8125, 6.35, 10.2256) (23.8125, 44.45, 29.1444) (23.8125, 44.45, 6.35) (23.8125, 11.8865, 6.35) (1.5875, 11.8865, 273.05) (1.5875, 44.45, 250.2556) (1.5875, 44.45, 273.05) (1.5875, 38.9135, 246.38) (1.5875, 6.35, 223.5856) (1.5875, 6.35, 269.1744) (1.5875, 6.35, 215.8344) (1.5875, 38.9135, 193.04) (1.5875, 6.35, 170.2456) (1.5875, 11.8865, 166.37) (1.5875, 44.45, 189.1644) (1.5875, 44.45, 143.5756) (1.5875, 6.35, 162.4944) (1.5875, 38.9135, 139.7) (1.5875, 11.8865, 113.03) (1.5875, 44.45, 135.8244) (1.5875, 44.45, 90.2356) (1.5875, 38.9135, 86.36) (1.5875, 6.35, 109.1544) (1.5875, 6.35, 63.5656) (1.5875, 11.8865, 59.69) (1.5875, 44.45, 82.4844) (1.5875, 44.45, 36.8956) (1.5875, 6.35, 55.8144) (1.5875, 6.35, 10.2256) (1.5875, 38.9135, 33.02) (1.5875, 44.45, 29.1444) (1.5875, 44.45, 6.35) (1.5875, 11.8865, 6.35)
equation "\"d2\" = d3"
equation "\"d3\" = d4"
equation "\"d4\" = d5"
equation "\"d9\" = 2 * d8"
equation "\"d10\" = d9"
equation "\"d11\" = d10"
equation "\"d12\" = d11"
equation "\"d14\" = d13"
equation "\"d15\" = d14"
equation "\"d16\" = d15"
equation "\"d17\" = d16"
equation "\"d18\" = d17"
equation "\"d19\" = d18"
equation "\"d20\" = d18"
equation "\"d21\" = d20"
equation "\"d22\" = d21"
properties part number "vertical frame piece2"
